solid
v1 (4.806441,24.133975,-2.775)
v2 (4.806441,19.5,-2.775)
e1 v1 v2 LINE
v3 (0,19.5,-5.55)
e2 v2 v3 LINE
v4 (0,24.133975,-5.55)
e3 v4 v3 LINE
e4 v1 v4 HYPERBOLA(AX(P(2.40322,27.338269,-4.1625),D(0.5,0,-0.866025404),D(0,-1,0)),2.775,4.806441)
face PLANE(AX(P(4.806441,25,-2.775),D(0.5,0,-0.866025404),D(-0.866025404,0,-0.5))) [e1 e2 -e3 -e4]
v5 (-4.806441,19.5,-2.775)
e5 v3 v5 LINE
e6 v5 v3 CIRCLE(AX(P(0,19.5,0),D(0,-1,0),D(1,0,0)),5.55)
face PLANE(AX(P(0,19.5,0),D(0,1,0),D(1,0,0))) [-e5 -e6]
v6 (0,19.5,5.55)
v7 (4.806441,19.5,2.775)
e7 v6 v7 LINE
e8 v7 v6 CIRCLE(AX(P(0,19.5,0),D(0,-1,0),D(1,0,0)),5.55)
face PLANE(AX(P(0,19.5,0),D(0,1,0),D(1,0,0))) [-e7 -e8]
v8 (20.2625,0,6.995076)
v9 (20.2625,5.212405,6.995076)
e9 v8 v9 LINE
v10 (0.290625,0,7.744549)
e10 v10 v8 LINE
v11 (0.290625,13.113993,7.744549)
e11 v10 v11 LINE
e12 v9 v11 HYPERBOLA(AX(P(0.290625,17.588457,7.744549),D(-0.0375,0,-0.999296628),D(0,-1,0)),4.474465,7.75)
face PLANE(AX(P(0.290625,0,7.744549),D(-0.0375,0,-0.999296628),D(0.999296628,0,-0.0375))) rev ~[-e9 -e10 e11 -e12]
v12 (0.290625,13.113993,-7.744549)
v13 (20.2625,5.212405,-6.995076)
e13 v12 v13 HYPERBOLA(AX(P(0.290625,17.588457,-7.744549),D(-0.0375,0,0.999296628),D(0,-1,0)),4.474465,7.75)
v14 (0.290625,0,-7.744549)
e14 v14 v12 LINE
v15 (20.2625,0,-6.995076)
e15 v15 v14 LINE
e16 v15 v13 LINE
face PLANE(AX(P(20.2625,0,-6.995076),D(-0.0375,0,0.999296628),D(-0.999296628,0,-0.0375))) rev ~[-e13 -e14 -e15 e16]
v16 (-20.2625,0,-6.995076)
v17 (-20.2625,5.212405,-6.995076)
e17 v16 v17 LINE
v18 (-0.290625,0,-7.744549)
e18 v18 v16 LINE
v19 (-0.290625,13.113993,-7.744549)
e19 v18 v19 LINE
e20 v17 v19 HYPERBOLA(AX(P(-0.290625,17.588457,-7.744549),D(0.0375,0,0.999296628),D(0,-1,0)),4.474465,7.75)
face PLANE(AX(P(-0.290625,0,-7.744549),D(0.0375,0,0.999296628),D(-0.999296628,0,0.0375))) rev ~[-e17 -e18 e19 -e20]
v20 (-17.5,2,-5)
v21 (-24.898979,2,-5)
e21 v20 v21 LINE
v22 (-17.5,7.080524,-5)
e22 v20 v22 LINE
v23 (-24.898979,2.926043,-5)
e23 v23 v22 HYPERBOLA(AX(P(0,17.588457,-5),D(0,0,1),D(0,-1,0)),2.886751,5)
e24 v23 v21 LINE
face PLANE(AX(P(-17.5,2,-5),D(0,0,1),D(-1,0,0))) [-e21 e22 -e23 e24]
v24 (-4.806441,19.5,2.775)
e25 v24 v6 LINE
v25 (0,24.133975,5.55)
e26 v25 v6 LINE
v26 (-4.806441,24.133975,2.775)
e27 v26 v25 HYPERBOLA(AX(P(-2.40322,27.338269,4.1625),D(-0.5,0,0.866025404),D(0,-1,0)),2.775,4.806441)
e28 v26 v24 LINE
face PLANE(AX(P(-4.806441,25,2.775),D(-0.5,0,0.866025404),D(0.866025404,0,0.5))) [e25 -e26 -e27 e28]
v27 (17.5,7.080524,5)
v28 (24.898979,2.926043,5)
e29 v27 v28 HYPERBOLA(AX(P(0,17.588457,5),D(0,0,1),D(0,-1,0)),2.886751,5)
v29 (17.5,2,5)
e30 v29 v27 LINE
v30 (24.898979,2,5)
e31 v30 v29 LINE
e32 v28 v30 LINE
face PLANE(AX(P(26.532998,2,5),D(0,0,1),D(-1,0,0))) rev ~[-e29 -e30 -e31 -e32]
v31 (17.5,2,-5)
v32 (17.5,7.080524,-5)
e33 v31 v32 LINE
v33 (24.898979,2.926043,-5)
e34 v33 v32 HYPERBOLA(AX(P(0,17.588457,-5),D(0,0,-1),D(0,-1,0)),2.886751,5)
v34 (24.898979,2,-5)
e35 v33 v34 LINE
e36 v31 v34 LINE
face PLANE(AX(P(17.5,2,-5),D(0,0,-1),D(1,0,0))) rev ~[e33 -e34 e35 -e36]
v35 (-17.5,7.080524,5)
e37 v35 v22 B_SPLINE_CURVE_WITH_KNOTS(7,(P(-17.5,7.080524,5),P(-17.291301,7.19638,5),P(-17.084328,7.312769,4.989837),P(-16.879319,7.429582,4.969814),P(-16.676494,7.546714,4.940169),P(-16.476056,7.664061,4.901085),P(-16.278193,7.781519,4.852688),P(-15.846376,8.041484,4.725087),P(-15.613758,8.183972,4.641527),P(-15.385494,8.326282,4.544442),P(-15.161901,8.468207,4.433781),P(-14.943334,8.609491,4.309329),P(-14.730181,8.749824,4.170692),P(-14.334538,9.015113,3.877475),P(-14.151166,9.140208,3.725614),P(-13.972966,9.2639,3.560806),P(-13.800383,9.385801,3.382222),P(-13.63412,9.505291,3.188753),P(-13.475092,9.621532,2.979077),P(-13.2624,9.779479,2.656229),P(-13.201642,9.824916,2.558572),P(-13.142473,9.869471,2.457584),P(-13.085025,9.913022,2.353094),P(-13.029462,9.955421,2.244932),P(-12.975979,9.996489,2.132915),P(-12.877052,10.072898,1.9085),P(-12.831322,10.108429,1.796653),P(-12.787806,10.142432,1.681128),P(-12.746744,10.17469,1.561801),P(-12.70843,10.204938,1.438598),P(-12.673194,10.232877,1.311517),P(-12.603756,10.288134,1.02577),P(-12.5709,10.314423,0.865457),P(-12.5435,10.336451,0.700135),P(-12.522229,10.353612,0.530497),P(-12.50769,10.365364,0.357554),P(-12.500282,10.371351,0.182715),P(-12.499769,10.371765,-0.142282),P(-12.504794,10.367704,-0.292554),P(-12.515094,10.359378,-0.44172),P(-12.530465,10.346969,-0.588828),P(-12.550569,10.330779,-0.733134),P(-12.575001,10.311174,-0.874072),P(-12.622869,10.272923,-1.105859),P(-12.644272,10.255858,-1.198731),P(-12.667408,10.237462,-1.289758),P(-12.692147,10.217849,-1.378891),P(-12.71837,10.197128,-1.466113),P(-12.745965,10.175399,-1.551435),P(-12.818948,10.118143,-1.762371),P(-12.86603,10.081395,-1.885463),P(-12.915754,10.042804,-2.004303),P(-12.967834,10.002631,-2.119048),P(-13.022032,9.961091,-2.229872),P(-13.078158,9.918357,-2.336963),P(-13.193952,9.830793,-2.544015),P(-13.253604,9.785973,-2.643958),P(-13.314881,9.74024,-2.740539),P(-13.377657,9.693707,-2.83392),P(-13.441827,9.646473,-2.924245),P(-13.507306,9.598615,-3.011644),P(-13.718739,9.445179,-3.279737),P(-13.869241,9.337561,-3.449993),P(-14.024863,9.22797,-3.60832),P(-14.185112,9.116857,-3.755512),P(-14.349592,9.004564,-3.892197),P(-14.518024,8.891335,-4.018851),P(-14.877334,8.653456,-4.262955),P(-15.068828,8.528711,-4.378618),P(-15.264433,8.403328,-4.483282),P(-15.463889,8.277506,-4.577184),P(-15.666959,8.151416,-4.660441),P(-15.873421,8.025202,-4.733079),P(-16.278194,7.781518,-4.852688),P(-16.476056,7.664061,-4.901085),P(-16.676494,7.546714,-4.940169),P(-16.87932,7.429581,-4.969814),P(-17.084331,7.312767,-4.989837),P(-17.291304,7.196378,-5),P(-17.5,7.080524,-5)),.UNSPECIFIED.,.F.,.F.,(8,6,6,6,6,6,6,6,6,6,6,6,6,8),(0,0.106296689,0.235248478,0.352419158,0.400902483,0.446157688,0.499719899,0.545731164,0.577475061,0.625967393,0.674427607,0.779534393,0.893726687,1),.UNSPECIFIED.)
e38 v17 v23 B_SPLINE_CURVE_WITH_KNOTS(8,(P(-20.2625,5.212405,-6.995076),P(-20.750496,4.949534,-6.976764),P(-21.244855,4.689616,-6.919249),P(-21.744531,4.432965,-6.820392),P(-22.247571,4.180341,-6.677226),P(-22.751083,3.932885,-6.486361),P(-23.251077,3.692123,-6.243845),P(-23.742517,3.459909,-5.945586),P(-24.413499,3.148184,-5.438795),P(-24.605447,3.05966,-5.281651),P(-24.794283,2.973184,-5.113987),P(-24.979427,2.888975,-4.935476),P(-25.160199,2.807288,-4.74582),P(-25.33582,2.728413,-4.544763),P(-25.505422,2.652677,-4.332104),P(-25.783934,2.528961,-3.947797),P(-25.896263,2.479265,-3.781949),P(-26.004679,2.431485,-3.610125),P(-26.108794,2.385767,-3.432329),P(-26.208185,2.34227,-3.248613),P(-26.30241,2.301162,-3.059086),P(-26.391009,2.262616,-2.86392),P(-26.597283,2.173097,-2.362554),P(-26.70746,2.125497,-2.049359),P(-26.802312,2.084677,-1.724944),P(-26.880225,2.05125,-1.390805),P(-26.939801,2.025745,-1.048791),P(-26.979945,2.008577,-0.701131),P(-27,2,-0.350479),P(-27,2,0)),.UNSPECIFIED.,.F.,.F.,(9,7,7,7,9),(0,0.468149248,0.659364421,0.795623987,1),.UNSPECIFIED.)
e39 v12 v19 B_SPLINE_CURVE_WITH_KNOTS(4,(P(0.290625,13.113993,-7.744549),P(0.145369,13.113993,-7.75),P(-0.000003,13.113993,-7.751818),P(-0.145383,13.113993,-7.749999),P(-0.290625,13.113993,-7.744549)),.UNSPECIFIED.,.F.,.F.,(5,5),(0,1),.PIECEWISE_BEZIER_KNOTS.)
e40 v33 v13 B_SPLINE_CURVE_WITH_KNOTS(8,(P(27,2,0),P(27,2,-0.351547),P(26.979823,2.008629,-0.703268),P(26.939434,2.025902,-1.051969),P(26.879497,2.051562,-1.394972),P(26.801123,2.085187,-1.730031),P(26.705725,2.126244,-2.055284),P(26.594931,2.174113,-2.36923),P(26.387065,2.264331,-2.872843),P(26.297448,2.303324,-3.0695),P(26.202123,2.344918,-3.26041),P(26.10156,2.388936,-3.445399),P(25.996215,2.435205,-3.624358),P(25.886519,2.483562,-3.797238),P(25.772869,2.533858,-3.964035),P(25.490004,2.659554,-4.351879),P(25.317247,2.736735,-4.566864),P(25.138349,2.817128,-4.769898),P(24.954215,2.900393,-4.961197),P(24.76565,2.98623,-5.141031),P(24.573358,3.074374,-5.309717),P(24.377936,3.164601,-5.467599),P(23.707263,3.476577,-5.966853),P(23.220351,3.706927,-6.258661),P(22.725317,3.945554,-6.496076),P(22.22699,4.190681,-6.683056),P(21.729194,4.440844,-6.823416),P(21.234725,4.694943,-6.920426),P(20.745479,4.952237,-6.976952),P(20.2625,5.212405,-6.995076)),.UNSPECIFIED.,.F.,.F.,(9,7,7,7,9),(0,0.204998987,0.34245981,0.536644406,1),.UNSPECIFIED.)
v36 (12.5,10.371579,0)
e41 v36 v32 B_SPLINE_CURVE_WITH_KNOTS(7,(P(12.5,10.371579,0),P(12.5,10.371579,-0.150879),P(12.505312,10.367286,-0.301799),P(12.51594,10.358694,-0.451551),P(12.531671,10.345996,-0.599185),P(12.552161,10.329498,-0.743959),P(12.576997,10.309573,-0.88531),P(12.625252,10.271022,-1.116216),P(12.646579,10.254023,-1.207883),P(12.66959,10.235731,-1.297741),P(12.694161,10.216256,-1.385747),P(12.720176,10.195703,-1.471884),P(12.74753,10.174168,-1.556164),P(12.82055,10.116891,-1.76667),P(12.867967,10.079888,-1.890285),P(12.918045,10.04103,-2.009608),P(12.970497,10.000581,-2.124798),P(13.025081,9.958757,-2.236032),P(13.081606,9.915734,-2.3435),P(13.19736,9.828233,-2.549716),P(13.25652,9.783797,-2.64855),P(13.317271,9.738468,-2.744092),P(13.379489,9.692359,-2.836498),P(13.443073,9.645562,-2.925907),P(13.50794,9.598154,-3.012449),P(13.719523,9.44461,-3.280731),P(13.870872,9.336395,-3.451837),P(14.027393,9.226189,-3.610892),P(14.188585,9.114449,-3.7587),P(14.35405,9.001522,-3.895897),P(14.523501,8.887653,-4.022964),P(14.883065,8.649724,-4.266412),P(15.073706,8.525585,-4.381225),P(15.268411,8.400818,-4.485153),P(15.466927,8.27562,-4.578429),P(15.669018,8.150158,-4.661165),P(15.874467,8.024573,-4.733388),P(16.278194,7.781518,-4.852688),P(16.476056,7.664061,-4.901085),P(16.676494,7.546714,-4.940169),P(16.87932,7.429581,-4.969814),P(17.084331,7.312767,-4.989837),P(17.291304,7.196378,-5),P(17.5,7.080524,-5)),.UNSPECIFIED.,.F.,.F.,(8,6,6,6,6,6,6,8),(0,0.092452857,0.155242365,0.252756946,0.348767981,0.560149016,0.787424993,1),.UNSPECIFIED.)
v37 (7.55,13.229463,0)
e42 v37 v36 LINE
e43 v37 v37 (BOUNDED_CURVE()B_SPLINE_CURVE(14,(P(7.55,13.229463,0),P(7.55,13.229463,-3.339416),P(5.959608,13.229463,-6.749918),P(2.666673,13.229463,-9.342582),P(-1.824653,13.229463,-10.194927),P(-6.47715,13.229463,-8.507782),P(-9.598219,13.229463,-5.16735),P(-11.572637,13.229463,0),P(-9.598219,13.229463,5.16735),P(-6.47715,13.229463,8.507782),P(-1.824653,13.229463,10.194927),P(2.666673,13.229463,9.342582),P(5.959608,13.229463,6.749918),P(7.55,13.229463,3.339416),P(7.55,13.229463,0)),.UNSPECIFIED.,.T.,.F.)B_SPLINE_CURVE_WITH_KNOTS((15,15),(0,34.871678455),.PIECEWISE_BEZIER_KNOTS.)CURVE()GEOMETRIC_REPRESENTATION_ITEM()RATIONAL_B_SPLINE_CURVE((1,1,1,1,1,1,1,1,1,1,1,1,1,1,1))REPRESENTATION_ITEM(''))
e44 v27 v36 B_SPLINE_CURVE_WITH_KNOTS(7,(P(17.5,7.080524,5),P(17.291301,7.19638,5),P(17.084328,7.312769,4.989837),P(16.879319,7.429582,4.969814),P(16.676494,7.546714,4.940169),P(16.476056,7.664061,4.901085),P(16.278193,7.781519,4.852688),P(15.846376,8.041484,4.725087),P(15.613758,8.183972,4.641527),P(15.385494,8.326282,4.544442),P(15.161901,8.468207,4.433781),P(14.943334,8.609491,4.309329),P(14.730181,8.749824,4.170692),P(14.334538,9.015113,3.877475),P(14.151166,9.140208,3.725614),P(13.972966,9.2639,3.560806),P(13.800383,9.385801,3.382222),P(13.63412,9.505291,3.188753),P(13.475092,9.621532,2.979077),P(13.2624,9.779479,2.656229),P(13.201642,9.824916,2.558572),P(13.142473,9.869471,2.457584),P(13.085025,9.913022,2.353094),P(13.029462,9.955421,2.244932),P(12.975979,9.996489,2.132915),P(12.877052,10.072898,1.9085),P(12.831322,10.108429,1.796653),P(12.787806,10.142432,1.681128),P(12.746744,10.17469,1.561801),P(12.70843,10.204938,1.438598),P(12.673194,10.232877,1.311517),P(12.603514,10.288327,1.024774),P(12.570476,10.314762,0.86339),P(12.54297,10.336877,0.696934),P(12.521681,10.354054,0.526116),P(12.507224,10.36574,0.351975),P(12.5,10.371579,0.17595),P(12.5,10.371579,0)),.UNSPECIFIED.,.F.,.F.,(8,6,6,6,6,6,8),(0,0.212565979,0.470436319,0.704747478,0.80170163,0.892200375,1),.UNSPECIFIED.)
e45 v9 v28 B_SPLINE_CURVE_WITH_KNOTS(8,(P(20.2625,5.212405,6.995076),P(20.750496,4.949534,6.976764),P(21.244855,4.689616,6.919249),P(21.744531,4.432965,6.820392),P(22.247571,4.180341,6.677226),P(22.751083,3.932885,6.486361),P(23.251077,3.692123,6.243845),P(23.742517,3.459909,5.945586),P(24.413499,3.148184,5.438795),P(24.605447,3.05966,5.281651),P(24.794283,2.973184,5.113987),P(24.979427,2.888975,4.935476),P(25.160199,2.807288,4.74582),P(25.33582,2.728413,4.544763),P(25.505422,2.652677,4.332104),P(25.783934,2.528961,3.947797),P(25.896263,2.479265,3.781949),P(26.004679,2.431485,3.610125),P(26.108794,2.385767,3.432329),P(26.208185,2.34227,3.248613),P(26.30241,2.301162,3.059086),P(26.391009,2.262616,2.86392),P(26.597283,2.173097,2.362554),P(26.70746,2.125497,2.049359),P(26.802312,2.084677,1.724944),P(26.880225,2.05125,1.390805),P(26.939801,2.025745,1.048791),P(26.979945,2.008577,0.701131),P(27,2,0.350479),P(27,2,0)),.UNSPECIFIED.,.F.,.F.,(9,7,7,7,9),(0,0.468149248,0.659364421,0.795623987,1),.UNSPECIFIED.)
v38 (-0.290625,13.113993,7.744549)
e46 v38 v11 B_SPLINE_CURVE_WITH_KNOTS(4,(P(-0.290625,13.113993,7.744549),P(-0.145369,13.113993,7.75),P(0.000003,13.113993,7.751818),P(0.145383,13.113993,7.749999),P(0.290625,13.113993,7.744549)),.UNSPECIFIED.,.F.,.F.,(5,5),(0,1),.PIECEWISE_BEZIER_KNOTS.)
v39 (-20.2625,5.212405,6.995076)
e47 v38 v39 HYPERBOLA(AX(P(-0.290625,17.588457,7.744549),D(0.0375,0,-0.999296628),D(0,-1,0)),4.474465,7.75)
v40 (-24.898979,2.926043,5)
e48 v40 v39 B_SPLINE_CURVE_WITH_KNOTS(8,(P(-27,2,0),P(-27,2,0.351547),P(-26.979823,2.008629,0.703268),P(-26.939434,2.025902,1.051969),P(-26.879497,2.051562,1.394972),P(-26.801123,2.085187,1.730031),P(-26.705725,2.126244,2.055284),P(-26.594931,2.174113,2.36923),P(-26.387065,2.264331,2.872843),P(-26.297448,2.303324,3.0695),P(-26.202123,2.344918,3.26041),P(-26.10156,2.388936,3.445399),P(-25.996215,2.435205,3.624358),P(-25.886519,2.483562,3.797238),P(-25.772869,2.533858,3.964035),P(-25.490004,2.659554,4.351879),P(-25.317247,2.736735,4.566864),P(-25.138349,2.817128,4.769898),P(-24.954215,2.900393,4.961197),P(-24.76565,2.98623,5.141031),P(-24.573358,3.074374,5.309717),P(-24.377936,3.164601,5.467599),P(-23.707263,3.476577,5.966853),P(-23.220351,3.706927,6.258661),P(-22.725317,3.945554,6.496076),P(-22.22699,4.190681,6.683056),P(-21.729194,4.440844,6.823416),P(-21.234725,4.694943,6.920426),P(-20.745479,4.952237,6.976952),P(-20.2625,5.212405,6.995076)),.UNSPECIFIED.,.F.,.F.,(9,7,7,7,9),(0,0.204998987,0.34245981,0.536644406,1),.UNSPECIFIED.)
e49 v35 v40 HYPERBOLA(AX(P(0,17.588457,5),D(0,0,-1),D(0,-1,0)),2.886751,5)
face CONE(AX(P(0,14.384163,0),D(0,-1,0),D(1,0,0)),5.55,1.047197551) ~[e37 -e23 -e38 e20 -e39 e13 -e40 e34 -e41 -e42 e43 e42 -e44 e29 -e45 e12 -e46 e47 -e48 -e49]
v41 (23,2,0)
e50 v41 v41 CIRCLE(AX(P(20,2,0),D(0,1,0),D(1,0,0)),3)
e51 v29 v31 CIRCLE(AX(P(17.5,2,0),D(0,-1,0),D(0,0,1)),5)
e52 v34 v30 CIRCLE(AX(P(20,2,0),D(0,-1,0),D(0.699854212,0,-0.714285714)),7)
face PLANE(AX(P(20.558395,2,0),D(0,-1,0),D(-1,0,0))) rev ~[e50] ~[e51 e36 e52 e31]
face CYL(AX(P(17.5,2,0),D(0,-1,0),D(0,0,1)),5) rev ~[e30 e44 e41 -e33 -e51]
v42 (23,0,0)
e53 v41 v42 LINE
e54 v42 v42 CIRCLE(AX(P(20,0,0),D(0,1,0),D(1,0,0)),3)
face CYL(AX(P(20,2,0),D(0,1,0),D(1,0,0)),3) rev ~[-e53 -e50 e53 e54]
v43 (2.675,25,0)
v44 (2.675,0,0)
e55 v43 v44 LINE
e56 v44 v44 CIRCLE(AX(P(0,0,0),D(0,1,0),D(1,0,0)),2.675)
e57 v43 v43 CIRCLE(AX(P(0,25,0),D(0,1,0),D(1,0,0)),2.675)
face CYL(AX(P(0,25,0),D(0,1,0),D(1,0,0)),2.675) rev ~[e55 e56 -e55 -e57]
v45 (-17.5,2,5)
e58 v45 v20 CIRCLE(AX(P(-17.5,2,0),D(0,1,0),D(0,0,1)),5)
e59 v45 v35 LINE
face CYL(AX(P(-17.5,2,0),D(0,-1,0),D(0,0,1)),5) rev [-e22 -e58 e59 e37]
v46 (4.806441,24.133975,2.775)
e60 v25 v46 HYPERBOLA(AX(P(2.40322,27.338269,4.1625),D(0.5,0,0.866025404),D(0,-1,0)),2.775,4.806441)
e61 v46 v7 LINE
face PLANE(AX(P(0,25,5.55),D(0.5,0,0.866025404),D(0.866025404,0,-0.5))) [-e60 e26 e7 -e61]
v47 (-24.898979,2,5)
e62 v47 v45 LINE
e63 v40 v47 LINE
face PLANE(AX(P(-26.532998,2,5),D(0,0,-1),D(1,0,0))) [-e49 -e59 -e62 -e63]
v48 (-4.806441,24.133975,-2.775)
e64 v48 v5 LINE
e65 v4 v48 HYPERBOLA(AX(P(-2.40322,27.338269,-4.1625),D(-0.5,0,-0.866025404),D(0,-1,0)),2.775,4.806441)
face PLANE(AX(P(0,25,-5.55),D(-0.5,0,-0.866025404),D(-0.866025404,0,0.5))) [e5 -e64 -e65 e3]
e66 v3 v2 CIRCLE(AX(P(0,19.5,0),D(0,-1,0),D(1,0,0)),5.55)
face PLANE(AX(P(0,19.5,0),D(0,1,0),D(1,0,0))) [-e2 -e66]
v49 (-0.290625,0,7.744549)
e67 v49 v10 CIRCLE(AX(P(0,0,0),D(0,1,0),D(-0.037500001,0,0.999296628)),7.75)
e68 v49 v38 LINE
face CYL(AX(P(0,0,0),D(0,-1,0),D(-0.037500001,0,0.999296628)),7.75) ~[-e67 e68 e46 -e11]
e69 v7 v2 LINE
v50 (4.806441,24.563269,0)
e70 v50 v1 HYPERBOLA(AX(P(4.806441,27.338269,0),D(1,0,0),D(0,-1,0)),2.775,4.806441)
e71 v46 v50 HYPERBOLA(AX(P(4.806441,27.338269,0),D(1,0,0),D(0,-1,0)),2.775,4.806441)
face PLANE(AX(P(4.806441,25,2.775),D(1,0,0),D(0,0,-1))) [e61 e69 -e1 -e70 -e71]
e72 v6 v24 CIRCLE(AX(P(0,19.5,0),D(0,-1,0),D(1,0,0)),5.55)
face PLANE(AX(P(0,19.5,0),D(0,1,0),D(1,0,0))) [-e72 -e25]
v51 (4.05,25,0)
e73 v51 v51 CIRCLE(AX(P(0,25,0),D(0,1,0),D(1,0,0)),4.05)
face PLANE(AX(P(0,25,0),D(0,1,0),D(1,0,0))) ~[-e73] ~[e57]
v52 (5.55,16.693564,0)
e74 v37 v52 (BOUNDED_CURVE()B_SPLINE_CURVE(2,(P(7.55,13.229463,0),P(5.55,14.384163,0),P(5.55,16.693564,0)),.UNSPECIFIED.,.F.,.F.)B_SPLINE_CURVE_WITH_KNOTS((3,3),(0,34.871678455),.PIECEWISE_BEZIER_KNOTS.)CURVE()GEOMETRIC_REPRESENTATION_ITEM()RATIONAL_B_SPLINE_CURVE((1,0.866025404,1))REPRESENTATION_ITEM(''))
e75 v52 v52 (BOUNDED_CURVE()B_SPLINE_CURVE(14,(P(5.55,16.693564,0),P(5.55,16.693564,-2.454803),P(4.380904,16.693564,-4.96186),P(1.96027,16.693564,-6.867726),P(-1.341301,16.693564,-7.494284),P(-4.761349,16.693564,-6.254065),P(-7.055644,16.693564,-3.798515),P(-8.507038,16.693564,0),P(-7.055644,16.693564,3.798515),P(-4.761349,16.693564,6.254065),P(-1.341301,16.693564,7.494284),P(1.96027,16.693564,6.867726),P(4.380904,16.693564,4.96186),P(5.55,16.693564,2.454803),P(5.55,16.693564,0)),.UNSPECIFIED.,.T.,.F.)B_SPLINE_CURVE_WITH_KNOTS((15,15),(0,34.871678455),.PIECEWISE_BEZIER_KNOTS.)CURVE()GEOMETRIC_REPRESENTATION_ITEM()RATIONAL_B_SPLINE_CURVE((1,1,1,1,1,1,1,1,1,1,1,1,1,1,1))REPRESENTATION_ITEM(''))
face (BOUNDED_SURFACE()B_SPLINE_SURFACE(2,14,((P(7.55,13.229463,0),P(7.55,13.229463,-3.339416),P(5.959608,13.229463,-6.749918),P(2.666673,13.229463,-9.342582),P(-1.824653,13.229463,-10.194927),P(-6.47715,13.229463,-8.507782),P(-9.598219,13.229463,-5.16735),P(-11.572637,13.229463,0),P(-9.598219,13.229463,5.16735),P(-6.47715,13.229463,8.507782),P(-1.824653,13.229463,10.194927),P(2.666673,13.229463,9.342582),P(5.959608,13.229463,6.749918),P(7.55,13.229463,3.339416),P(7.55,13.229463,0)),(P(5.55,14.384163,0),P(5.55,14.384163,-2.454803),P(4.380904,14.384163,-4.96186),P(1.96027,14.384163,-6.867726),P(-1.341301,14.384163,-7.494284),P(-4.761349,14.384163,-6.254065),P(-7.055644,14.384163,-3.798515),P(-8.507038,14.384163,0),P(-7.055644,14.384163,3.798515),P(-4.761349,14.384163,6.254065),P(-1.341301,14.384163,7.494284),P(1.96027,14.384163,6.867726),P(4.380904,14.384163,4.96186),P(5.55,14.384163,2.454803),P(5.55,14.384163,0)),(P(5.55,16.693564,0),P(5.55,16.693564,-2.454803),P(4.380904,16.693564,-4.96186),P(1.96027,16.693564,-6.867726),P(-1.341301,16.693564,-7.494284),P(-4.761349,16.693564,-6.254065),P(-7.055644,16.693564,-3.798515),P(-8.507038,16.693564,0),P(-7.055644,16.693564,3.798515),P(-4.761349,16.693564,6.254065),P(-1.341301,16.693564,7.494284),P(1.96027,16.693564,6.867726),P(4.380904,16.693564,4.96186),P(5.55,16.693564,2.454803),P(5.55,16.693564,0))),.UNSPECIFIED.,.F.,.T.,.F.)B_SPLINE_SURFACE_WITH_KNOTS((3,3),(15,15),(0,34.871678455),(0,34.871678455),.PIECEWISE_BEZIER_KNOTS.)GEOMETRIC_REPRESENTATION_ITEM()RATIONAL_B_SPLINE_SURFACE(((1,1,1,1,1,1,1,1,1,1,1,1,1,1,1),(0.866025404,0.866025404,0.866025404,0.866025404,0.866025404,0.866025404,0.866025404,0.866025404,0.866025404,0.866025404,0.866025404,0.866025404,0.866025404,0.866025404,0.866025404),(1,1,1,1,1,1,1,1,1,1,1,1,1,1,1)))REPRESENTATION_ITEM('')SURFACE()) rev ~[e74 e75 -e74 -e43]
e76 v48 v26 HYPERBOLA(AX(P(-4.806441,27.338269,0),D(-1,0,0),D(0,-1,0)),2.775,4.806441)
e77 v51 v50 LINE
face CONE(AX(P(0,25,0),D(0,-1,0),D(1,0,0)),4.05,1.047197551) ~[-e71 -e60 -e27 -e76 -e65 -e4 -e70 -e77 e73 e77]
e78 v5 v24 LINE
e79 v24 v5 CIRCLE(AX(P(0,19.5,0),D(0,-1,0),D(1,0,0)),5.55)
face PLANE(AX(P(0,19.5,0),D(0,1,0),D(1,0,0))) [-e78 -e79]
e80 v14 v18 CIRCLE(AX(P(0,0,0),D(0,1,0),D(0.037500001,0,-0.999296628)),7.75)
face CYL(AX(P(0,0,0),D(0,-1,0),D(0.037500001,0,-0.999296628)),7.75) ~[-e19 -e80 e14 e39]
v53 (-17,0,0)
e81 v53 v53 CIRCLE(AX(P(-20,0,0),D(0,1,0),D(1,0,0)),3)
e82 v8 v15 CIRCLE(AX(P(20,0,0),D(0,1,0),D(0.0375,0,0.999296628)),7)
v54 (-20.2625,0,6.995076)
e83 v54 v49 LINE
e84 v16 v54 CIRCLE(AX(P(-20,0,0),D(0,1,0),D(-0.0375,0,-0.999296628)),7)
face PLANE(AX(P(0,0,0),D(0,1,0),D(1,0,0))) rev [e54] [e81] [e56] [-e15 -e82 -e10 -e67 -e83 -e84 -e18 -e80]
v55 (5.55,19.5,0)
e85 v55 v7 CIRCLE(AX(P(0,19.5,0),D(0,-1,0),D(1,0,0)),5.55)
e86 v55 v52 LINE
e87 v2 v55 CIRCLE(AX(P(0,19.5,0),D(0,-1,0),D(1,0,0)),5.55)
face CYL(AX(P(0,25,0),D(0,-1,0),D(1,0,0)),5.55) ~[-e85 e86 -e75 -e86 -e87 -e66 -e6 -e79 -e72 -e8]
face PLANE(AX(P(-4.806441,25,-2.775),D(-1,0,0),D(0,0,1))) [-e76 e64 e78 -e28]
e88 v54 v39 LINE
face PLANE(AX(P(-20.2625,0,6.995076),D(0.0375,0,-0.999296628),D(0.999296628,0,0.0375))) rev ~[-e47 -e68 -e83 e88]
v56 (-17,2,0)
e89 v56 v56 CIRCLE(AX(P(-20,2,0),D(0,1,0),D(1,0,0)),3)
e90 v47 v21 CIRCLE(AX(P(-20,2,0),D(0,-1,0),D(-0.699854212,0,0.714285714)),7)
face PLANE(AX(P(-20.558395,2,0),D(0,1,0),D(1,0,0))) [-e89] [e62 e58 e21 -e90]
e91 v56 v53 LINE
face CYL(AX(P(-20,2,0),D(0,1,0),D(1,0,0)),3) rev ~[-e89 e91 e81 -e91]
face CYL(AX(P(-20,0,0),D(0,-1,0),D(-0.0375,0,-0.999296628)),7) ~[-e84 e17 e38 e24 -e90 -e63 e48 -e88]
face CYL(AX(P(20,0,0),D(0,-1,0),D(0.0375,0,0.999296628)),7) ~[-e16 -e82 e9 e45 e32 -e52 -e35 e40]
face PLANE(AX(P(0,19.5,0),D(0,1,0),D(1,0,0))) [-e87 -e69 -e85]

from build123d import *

# Parameters (mm, degrees)
SZKIC1_W                        = 27
SZKIC1_H                        = 25
ZAOKR_GLENIE1_R                 = 4
SZKIC4_R                        = 3
WYTNIJ_WYCI_GNI_CIE3_DEPTH      = 24.0000001
WYTNIJ_WYCI_GNI_CIE3_DEPTH_BACK = 3
WYTNIJ_WYCI_GNI_CIE2_DEPTH      = 24.0000001
SZKIC5_OUTSIDE_W                = 72.072
SZKIC5_OUTSIDE_H                = 72.072
WYTNIJ_WYCI_GNI_CIE4_DEPTH      = 26.0000001
SZKIC6_R                        = 2.675
WYTNIJ_WYCI_GNI_CIE5_DEPTH      = 26.0000001
SZKIC7_OUTSIDE_W                = 68.298
SZKIC7_OUTSIDE_H                = 29.798
WYTNIJ_WYCI_GNI_CIE6_DEPTH      = 5.5


with BuildPart() as part:
    # Szkic1 → Obrót1 (revolve)
    with BuildSketch(Plane.XY):
        with Locations((13.5, 12.5)):
            Rectangle(SZKIC1_W, SZKIC1_H)
    revolve(axis=Axis((0, 0, 0), (0, 1, 0)))

    # Szkic2 → Wycięcie-obrót1 (revolve, cut)
    with BuildSketch(Plane.XY):
        Polygon((5.55, 25), (5.55, 14.384163274), (27, 2), (27, 25), align=None)
    revolve(axis=Axis((0, 0, 0), (0, 1, 0)), mode=Mode.SUBTRACT)

    # Zaokrąglenie1
    zaokr_glenie1_edges = [part.edges().sort_by_distance(p)[0] for p in [
        (-5.55, 14.384163274, 0),
    ]]
    fillet(zaokr_glenie1_edges, radius=ZAOKR_GLENIE1_R)

    # Szkic4 → Wytnij-wyciągnięcie3 (cut, two sides)
    with BuildSketch(Plane(origin=(0, 2, 0), x_dir=(1, 0, 0), z_dir=(0, 1, 0))) as wytnij_wyci_gni_cie3_sk:
        with Locations((-20, 0)):
            Circle(SZKIC4_R)
        with Locations((20, 0)):
            Circle(SZKIC4_R)
    extrude(amount=WYTNIJ_WYCI_GNI_CIE3_DEPTH, mode=Mode.SUBTRACT)
    extrude(wytnij_wyci_gni_cie3_sk.sketch, amount=-WYTNIJ_WYCI_GNI_CIE3_DEPTH_BACK, mode=Mode.SUBTRACT)

    # Szkic3 → Wytnij-wyciągnięcie2 (cut, through all)
    with BuildSketch(Plane(origin=(0, 2, 0), x_dir=(1, 0, 0), z_dir=(0, 1, 0))):
        with BuildLine():
            Line((-17.5, 5), (-26.532998323, 5))
            ThreePointArc((-26.532998323, 5), (-27, 0), (-26.532998323, -5))
            Line((-26.532998323, -5), (-17.5, -5))
            ThreePointArc((-17.5, -5), (-12.5, 0), (-17.5, 5))
        make_face()
        with BuildLine():
            Line((17.5, 5), (26.532998323, 5))
            ThreePointArc((26.532998323, 5), (27, 0), (26.532998323, -5))
            Line((26.532998323, -5), (17.5, -5))
            ThreePointArc((17.5, -5), (12.5, 0), (17.5, 5))
        make_face()
    extrude(amount=WYTNIJ_WYCI_GNI_CIE2_DEPTH, mode=Mode.SUBTRACT)

    # Szkic5 outside → Wytnij-wyciągnięcie4 (cut, through all)
    with BuildSketch(Plane.XZ):
        Rectangle(SZKIC5_OUTSIDE_W, SZKIC5_OUTSIDE_H)
        with BuildLine():
            Line((-20.2625, 6.995076393), (-0.290625, 7.744548864))
            ThreePointArc((-0.290625, 7.744548864), (0, 7.75), (0.290625, 7.744548864))
            Line((0.290625, 7.744548864), (20.2625, 6.995076393))
            ThreePointArc((20.2625, 6.995076393), (27, 0), (20.2625, -6.995076393))
            Line((20.2625, -6.995076393), (0.290625, -7.744548864))
            ThreePointArc((0.290625, -7.744548864), (0, -7.75), (-0.290625, -7.744548864))
            Line((-0.290625, -7.744548864), (-20.2625, -6.995076393))
            ThreePointArc((-20.2625, -6.995076393), (-27, 0), (-20.2625, 6.995076393))
        make_face(mode=Mode.SUBTRACT)
    extrude(amount=-WYTNIJ_WYCI_GNI_CIE4_DEPTH, mode=Mode.SUBTRACT)

    # Szkic6 → Wytnij-wyciągnięcie5 (cut, through all)
    with BuildSketch(Plane(origin=(0, 25, 0), x_dir=(1, 0, 0), z_dir=(0, 1, 0))):
        Circle(SZKIC6_R)
    extrude(amount=-WYTNIJ_WYCI_GNI_CIE5_DEPTH, mode=Mode.SUBTRACT)

    # Szkic7 outside → Wytnij-wyciągnięcie6 (cut)
    with BuildSketch(Plane(origin=(0, 25, 0), x_dir=(1, 0, 0), z_dir=(0, 1, 0))):
        Rectangle(SZKIC7_OUTSIDE_W, SZKIC7_OUTSIDE_H)
        Polygon((-4.806440991, 2.775), (-4.806440991, -2.775), (0, -5.55), (4.806440991, -2.775), (4.806440991, 2.775), (0, 5.55), align=None, mode=Mode.SUBTRACT)
    extrude(amount=-WYTNIJ_WYCI_GNI_CIE6_DEPTH, mode=Mode.SUBTRACT)

    # Szkic9 → Wycięcie-obrót2 (revolve, cut)
    with BuildSketch(Plane.XY):
        Polygon((4.05, 25), (5.55, 24.133974596), (5.55, 25), align=None)
    revolve(axis=Axis((0, 19.5, 0), (0, 1, 0)), mode=Mode.SUBTRACT)


solid = part.part
